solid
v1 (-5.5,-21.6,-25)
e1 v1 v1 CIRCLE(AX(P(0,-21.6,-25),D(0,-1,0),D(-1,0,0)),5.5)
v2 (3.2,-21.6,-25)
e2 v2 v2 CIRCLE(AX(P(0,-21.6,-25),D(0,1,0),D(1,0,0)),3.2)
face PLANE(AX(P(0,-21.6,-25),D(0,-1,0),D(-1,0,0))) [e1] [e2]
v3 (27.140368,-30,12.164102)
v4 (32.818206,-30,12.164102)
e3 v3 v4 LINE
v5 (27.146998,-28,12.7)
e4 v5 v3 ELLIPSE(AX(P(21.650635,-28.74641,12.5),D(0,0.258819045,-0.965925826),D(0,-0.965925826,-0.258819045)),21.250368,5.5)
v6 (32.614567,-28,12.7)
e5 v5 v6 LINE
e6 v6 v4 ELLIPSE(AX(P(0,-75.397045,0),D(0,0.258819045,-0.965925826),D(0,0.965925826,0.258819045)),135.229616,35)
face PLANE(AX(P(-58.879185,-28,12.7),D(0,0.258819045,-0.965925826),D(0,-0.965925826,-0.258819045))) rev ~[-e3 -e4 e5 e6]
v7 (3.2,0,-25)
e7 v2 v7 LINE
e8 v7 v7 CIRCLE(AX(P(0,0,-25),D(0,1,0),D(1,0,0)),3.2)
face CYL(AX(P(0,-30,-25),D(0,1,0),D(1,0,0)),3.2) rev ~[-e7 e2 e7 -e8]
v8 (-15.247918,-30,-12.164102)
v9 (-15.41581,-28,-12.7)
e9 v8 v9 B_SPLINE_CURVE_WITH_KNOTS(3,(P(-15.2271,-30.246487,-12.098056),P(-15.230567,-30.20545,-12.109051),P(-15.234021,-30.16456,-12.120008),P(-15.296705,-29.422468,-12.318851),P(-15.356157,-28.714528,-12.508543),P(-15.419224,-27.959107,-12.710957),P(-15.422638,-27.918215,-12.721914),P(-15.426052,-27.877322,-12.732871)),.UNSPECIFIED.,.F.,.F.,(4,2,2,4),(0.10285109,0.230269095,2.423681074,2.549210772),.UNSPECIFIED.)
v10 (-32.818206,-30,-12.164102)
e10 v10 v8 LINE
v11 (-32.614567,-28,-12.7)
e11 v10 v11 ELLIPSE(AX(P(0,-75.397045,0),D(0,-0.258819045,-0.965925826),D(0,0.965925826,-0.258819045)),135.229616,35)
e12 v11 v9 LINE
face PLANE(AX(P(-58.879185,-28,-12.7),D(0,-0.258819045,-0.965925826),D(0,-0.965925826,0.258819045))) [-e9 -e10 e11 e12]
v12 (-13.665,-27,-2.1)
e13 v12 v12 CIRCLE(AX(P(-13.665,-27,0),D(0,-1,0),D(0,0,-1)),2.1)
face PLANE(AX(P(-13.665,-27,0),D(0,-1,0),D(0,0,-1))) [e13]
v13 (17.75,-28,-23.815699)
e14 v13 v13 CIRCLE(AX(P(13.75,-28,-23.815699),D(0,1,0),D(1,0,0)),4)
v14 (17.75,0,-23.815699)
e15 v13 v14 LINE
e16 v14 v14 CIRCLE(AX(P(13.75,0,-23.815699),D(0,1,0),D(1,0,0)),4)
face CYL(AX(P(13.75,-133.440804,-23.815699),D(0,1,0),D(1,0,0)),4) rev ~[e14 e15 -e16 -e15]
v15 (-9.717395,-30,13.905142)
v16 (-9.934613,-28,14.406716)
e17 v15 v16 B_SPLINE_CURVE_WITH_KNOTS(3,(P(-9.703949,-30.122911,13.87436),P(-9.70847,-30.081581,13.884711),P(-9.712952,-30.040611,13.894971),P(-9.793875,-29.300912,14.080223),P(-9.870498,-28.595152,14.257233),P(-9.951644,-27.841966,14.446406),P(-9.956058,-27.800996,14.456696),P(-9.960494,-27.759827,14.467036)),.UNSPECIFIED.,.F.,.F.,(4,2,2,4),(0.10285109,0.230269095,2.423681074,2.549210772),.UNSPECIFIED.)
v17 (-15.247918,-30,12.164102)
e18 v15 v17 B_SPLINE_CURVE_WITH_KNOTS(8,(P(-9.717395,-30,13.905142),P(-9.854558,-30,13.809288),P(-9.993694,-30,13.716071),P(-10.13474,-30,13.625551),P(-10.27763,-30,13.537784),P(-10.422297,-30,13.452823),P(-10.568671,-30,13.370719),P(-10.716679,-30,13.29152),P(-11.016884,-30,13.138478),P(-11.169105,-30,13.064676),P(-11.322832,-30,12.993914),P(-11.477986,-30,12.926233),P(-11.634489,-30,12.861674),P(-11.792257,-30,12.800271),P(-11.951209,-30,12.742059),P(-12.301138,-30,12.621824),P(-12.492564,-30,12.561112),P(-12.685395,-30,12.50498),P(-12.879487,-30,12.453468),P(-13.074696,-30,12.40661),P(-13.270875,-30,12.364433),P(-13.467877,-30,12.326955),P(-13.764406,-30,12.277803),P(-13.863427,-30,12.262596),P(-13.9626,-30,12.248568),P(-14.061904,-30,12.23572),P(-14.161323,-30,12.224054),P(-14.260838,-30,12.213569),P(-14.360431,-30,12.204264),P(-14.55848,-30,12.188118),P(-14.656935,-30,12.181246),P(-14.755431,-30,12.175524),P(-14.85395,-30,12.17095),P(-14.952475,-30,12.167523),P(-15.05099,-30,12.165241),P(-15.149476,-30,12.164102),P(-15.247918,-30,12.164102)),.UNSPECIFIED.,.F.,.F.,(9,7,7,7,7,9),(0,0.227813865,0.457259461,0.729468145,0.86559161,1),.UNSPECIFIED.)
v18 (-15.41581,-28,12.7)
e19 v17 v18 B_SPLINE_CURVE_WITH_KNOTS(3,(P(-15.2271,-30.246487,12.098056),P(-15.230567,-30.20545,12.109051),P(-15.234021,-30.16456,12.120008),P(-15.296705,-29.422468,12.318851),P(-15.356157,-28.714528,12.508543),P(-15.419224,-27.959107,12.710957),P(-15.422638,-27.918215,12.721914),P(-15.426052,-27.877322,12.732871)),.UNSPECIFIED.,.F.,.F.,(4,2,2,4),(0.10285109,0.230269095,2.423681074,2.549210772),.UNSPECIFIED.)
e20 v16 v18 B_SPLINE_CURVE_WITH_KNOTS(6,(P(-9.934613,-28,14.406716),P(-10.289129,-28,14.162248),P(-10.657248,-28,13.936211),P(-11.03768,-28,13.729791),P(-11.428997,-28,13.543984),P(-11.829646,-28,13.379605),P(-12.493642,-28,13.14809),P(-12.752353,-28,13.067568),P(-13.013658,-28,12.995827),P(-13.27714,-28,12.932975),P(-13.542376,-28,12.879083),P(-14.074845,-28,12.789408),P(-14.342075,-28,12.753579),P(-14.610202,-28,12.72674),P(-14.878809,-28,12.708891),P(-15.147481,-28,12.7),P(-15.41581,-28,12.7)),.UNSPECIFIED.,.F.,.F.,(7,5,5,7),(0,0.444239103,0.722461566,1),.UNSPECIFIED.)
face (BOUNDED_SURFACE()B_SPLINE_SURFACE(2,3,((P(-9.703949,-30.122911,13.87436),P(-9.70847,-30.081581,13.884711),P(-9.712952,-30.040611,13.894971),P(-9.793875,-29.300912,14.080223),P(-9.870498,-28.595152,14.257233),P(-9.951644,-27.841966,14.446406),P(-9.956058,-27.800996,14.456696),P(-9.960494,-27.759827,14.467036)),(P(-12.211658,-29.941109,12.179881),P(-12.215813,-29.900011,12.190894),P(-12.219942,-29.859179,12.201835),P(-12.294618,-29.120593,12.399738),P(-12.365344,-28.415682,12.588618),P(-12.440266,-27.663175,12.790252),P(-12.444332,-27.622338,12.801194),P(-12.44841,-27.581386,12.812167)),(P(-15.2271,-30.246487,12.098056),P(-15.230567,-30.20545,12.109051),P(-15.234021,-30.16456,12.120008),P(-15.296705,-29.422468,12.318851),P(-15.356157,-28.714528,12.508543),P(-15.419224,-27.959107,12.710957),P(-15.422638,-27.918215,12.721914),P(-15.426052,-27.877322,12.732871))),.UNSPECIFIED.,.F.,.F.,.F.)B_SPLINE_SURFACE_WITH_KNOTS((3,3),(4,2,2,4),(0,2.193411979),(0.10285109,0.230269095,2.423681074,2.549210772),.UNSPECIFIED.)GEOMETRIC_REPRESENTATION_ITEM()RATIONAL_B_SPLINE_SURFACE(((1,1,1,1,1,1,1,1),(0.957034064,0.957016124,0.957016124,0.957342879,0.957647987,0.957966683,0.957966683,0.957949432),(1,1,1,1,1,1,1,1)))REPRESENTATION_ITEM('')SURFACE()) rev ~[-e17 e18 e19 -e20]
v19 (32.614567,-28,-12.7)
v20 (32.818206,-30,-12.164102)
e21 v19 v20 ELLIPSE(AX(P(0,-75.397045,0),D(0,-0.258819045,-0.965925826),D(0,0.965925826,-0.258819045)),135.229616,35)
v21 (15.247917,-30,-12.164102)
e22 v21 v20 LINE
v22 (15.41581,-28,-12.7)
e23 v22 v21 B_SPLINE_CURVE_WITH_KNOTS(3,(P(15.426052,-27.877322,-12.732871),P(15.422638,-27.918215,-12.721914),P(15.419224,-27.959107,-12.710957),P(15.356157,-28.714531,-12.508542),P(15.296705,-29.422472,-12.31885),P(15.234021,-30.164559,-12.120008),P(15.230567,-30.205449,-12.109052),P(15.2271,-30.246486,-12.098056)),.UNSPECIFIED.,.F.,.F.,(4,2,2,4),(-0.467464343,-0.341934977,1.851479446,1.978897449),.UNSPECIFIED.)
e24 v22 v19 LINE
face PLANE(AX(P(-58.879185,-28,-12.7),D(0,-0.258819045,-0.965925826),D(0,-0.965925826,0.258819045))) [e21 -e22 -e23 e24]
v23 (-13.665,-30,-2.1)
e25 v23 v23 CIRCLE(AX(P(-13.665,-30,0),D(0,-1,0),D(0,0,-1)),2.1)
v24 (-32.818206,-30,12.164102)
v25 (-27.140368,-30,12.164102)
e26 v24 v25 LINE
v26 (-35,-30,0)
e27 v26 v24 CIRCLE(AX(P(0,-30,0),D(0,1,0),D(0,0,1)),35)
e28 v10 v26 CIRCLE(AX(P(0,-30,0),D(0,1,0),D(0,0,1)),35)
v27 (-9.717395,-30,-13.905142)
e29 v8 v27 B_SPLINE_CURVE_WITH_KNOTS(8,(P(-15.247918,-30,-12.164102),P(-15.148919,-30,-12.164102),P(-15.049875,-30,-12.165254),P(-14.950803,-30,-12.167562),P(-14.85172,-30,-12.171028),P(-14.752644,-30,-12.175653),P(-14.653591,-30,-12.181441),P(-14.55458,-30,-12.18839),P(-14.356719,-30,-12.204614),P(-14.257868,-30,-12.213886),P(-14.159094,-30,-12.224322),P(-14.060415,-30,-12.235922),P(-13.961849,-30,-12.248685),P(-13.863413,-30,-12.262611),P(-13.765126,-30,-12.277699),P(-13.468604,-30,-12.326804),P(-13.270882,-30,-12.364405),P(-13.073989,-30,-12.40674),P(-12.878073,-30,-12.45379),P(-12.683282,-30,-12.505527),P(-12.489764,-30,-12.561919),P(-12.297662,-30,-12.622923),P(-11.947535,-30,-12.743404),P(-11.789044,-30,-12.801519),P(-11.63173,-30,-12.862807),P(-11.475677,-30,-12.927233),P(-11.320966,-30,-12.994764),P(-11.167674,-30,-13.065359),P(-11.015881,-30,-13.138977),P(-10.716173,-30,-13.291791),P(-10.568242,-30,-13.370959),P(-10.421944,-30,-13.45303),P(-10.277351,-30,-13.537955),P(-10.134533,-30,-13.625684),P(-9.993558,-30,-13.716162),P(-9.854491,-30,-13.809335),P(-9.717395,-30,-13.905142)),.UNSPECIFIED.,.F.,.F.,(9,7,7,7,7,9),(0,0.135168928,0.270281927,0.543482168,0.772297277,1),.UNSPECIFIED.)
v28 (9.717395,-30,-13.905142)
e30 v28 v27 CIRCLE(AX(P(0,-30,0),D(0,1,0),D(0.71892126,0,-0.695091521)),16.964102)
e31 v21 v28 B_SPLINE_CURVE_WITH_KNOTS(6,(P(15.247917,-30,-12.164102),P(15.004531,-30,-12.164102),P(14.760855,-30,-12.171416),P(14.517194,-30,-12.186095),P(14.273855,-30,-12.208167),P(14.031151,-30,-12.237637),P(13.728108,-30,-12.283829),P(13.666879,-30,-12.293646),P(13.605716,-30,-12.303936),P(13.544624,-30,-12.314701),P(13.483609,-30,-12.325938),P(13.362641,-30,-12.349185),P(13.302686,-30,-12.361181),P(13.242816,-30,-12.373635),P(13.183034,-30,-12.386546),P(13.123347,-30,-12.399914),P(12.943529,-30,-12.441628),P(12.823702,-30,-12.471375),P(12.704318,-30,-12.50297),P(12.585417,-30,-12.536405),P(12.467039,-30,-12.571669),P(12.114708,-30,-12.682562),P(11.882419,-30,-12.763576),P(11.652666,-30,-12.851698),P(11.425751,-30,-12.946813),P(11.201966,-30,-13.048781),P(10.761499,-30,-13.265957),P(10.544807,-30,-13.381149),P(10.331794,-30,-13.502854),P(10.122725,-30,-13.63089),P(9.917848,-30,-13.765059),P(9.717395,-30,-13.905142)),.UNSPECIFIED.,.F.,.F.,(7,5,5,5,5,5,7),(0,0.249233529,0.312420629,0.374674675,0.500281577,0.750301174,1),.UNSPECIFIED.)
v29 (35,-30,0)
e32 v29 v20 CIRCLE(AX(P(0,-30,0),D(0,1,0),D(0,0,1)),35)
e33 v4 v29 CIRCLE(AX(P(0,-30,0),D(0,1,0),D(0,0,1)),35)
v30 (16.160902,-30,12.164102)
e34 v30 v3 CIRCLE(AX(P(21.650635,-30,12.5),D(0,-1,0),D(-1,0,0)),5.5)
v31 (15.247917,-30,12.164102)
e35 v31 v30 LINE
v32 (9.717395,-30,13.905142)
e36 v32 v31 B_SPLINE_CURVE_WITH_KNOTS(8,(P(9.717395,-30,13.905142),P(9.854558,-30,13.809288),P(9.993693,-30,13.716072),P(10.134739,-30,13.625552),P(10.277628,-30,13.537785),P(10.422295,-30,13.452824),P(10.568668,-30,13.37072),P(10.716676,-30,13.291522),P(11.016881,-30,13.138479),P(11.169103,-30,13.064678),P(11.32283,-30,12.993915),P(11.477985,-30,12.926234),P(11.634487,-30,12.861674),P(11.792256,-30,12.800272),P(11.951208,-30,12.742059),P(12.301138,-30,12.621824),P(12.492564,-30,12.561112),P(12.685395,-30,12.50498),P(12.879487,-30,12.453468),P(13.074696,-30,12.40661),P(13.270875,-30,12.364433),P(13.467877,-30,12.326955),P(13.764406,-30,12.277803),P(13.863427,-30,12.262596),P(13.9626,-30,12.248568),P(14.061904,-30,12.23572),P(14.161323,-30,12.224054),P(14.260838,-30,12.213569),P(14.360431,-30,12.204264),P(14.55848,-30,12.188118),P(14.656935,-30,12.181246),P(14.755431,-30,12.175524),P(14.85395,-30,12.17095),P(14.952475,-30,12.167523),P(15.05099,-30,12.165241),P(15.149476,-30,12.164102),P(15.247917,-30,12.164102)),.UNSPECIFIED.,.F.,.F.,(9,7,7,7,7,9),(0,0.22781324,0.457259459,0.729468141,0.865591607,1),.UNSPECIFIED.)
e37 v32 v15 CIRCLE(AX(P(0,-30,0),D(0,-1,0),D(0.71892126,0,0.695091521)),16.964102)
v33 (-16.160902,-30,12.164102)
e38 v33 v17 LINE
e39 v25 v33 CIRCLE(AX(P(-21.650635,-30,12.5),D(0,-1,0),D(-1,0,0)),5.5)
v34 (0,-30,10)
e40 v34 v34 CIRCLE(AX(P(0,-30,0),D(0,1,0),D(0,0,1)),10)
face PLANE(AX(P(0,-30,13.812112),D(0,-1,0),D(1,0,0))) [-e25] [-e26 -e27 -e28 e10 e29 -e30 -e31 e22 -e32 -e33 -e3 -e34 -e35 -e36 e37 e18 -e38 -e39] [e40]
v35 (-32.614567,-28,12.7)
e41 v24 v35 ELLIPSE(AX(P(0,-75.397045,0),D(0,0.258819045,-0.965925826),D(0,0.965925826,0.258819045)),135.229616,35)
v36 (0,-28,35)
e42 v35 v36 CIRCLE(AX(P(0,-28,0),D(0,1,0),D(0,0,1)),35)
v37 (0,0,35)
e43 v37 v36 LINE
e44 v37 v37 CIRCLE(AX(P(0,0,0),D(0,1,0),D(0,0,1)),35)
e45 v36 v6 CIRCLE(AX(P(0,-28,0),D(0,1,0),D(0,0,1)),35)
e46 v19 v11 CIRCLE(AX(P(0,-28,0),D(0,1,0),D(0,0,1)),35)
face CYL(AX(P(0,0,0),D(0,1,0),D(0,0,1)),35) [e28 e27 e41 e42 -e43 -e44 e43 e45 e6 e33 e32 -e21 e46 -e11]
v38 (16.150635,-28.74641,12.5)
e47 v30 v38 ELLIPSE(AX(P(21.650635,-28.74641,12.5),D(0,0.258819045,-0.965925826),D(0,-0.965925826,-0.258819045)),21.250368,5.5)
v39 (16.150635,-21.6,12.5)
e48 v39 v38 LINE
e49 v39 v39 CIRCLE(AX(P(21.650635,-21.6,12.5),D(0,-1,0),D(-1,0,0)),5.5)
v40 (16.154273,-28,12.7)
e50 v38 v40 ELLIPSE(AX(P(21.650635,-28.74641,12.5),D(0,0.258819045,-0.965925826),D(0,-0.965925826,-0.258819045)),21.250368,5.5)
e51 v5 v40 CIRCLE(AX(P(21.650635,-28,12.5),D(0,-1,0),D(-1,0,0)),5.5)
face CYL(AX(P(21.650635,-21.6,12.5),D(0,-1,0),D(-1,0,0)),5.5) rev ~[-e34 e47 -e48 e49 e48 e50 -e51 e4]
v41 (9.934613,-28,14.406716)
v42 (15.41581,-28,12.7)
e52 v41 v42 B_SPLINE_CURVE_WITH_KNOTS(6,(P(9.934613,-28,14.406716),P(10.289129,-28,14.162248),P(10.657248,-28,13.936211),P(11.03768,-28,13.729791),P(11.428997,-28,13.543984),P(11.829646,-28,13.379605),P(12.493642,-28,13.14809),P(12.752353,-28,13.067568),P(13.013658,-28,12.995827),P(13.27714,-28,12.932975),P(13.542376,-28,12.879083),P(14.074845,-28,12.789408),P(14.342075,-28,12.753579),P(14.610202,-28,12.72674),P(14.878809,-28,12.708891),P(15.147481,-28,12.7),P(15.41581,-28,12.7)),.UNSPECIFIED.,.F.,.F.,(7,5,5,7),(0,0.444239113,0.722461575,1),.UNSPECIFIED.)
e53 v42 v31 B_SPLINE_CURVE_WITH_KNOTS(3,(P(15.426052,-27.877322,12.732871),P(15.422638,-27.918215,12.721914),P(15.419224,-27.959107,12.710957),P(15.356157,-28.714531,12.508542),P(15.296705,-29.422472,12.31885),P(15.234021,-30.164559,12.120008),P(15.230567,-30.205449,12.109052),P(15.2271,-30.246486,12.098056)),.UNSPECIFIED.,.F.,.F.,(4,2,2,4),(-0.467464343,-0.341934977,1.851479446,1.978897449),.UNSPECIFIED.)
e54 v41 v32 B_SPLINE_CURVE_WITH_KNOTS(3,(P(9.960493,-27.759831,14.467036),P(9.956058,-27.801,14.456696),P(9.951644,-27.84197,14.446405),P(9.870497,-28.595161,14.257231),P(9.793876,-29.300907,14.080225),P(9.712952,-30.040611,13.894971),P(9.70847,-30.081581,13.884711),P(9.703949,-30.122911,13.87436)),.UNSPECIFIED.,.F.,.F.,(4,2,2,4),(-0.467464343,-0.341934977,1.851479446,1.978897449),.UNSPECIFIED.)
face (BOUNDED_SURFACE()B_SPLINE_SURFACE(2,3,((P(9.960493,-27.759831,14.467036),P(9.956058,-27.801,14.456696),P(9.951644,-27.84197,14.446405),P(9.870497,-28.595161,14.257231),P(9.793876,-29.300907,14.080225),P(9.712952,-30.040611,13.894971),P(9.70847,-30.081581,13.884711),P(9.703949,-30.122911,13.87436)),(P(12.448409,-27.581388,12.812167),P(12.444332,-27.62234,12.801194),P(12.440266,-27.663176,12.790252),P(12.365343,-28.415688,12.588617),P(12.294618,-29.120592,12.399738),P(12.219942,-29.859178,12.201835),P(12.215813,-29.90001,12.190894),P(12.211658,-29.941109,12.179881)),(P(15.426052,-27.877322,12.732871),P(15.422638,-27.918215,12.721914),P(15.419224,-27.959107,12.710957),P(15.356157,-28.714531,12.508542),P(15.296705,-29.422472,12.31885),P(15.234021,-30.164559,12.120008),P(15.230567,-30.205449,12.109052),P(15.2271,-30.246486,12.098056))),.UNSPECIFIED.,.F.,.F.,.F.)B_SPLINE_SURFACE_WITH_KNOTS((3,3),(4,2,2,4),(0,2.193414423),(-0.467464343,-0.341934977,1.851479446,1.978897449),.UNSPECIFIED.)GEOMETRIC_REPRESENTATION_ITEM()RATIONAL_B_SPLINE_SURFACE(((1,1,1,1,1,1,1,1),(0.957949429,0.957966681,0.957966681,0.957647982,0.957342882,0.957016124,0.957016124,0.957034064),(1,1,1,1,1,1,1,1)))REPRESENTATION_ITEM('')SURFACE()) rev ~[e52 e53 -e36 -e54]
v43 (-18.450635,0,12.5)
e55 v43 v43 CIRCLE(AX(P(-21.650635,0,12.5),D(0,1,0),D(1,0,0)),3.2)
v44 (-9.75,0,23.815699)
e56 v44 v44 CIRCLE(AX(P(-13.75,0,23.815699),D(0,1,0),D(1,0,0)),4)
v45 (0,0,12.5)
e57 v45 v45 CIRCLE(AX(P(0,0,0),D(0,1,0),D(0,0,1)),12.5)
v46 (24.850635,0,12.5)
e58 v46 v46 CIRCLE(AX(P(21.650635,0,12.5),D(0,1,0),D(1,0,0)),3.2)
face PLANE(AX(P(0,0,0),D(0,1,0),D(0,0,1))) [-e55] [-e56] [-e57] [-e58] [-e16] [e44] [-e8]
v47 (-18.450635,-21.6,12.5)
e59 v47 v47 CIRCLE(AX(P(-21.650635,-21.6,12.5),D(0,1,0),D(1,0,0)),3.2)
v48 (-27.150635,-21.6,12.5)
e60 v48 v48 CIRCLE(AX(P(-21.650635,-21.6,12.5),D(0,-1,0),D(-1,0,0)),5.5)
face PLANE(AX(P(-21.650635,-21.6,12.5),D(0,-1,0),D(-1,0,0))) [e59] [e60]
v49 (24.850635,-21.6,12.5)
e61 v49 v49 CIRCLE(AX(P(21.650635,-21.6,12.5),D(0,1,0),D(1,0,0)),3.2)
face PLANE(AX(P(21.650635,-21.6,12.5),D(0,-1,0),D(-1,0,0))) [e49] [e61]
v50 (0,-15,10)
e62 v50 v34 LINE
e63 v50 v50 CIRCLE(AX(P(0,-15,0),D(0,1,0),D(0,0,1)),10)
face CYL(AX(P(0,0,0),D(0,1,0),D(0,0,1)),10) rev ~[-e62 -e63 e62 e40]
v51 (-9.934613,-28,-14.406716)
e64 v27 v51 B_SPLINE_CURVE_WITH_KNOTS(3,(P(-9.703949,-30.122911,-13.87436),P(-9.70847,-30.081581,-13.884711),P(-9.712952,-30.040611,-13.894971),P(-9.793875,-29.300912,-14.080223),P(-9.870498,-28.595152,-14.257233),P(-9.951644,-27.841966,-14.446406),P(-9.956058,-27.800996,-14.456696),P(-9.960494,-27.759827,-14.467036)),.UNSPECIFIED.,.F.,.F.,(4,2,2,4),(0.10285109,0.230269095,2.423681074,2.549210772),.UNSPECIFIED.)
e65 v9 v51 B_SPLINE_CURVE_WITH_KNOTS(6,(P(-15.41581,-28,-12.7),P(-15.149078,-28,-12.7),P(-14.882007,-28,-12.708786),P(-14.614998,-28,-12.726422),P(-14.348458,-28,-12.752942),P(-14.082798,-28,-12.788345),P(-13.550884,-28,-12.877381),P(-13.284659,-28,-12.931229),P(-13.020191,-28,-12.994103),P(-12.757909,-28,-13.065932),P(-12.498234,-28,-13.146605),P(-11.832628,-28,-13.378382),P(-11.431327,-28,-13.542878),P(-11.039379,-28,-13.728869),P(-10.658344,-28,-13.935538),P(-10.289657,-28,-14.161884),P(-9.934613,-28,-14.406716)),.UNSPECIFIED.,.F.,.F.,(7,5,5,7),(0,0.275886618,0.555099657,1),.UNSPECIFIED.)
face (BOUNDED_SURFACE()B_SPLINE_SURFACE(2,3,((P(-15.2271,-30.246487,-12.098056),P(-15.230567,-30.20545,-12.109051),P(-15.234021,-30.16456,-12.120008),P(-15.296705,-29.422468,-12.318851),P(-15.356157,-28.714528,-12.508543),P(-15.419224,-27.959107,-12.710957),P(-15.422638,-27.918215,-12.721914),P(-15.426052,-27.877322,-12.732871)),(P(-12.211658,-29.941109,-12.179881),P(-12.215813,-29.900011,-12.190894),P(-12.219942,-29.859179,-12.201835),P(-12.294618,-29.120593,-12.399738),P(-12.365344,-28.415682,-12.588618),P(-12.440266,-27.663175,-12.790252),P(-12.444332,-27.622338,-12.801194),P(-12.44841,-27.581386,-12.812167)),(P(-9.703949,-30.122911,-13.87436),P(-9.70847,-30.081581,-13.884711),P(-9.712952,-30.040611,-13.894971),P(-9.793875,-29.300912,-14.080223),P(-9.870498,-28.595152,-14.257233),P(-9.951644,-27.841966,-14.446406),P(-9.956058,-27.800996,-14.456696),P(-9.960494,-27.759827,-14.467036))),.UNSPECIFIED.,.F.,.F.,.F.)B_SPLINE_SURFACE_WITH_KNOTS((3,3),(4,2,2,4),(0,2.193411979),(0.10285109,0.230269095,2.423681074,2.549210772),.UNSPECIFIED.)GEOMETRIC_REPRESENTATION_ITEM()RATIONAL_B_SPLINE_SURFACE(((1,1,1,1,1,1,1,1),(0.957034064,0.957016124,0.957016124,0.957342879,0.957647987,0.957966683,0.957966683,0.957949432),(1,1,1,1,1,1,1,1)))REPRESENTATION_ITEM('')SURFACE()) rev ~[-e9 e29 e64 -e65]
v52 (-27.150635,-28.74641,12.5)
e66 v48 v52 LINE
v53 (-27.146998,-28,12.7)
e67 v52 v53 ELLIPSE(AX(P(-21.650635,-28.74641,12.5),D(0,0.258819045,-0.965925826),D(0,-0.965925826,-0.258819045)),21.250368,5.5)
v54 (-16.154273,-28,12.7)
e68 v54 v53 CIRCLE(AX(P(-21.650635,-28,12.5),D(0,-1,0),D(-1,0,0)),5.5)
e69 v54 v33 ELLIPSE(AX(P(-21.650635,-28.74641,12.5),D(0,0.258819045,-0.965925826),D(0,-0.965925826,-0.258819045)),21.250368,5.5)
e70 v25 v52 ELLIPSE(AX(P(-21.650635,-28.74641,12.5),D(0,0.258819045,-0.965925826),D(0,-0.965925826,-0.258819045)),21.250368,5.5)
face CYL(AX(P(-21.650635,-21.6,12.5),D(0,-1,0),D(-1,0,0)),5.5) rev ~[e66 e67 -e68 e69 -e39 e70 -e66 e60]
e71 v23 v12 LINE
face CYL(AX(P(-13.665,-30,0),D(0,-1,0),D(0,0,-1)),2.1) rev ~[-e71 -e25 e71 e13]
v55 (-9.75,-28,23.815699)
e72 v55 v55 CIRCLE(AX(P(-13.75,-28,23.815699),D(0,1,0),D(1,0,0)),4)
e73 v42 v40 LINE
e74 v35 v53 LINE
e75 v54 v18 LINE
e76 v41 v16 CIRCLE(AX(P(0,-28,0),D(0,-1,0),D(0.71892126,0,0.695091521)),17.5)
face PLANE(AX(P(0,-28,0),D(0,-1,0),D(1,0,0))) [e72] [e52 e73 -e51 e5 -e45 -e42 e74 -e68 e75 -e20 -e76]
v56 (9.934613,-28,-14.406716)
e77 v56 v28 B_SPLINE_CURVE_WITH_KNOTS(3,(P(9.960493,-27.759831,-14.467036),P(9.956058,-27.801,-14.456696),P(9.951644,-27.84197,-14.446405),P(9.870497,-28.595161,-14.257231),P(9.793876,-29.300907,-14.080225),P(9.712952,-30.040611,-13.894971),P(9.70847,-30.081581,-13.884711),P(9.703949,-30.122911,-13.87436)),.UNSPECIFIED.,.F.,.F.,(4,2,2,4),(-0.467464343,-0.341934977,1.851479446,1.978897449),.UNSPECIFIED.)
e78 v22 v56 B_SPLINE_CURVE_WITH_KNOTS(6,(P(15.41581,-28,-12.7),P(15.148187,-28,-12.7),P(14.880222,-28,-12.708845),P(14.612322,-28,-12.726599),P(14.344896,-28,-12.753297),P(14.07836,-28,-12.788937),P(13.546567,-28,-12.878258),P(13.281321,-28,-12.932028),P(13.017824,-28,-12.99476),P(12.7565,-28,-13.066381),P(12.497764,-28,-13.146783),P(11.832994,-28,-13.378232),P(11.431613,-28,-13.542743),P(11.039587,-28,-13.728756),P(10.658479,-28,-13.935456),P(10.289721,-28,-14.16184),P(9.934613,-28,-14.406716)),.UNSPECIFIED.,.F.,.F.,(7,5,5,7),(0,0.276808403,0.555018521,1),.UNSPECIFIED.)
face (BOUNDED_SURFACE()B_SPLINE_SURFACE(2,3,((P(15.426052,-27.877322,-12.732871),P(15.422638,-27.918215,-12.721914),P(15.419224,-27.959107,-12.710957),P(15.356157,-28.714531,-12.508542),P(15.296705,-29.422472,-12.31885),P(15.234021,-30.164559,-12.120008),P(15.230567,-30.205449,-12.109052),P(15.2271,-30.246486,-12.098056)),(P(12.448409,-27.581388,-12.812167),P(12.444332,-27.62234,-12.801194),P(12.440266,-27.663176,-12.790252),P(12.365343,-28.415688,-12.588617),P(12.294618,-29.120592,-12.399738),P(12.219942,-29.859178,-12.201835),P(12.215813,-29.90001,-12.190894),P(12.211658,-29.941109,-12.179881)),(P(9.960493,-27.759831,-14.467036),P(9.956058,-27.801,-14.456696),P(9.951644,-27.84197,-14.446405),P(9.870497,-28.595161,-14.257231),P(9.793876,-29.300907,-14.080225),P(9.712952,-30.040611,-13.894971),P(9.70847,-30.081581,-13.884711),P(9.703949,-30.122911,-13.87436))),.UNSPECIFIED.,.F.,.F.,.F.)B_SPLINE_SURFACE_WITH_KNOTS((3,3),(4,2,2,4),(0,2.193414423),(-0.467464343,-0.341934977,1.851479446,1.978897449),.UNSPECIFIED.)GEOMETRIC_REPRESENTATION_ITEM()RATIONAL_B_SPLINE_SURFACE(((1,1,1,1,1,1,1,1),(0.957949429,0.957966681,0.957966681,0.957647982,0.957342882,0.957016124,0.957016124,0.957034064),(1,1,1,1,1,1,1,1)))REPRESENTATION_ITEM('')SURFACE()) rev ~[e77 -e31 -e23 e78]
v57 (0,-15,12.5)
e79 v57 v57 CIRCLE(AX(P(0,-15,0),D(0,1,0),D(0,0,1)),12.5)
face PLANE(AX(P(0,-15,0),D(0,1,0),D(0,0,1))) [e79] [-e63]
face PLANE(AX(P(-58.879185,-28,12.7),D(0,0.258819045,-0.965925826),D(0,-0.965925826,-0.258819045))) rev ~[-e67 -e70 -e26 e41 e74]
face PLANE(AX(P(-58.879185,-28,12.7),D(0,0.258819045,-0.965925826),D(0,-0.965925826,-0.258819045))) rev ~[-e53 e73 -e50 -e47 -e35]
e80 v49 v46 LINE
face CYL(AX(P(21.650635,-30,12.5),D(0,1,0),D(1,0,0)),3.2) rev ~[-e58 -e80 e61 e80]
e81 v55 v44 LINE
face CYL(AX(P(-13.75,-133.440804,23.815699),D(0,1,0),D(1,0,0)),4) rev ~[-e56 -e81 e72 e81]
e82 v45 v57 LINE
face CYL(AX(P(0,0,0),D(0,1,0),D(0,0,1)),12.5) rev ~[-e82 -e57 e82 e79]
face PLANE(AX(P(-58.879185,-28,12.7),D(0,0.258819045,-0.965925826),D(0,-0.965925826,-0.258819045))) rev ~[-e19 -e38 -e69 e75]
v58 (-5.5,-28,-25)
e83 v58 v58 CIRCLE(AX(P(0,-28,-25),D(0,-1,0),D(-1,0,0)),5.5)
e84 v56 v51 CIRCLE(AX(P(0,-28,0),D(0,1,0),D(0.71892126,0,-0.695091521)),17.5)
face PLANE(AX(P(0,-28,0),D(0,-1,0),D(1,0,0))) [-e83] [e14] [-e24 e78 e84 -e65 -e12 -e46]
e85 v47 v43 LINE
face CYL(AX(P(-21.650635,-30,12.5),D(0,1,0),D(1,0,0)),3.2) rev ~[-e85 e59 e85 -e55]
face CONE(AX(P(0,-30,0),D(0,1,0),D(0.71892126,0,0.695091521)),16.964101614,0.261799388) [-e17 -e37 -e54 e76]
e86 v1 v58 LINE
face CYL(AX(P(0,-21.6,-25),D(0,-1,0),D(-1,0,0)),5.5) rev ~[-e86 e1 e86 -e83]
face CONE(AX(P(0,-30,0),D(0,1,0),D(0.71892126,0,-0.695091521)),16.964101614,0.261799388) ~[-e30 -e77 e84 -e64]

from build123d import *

# Parameters (mm, degrees)
SKETCH1_R                                           = 35
SKETCH1_R_2                                         = 10
BOSS_EXTRUDE1_DEPTH                                 = 30
SKETCH4_R                                           = 12.5
CUT_EXTRUDE2_DEPTH                                  = 15
CBORE_FOR_M6_HEX_SOCKET_HEAD_CAP_SCREW1_D           = 6.4
CBORE_FOR_M6_HEX_SOCKET_HEAD_CAP_SCREW1_CBORE_D     = 11
CBORE_FOR_M6_HEX_SOCKET_HEAD_CAP_SCREW1_CBORE_DEPTH = 8.4
F_8_0MM_DOWEL_HOLE1_D                               = 8
SKETCH14_OUTSIDE_W                                  = 92.688
SKETCH14_OUTSIDE_H                                  = 92.688
SKETCH14_OUTSIDE_W_2                                = 70
SKETCH14_OUTSIDE_H_2                                = 25.4
CUT_EXTRUDE3_DEPTH                                  = 2
SKETCH18_R                                          = 2.1
CUT_EXTRUDE5_DEPTH                                  = 3
CUT_EXTRUDE6_DEPTH                                  = 58.879184825
CUT_EXTRUDE6_DEPTH_BACK                             = 58.879184825
BOSS_EXTRUDE2_DEPTH                                 = 2
DRAFT1_ANGLE                                        = 15
FILLET1_R                                           = 10


with BuildPart() as part:
    # Sketch1 → Boss-Extrude1 (new body)
    with BuildSketch(Plane(origin=(0, 0, 0), x_dir=(1, 0, 0), z_dir=(0, 1, 0))):
        with Locations(Location((0, 0, 0), (0, 0, 270))):
            Circle(SKETCH1_R)
        with Locations(Location((0, 0, 0), (0, 0, 270))):
            Circle(SKETCH1_R_2, mode=Mode.SUBTRACT)
    extrude(amount=-BOSS_EXTRUDE1_DEPTH)

    # Sketch4 → Cut-Extrude2 (cut)
    with BuildSketch(Plane(origin=(0, 0, 0), x_dir=(1, 0, 0), z_dir=(0, 1, 0))):
        with Locations(Location((0, 0, 0), (0, 0, 270))):
            Circle(SKETCH4_R)
    extrude(amount=-CUT_EXTRUDE2_DEPTH, mode=Mode.SUBTRACT)

    # CBORE for M6 Hex Socket Head Cap Screw1 (through all)
    with Locations(Plane(origin=(0, -30, 0), x_dir=(-1, 0, 0), z_dir=(0, -1, 0))):
        with Locations((0, 25), (21.650635095, -12.5), (-21.650635095, -12.5)):
            CounterBoreHole(CBORE_FOR_M6_HEX_SOCKET_HEAD_CAP_SCREW1_D / 2, CBORE_FOR_M6_HEX_SOCKET_HEAD_CAP_SCREW1_CBORE_D / 2, CBORE_FOR_M6_HEX_SOCKET_HEAD_CAP_SCREW1_CBORE_DEPTH)

    # Ø8.0mm Dowel Hole1 (through all)
    with Locations(Plane(origin=(0, -30, 0), x_dir=(-1, 0, 0), z_dir=(0, -1, 0))):
        with Locations((13.75, -23.815698604), (-13.75, 23.815698604)):
            Hole(F_8_0MM_DOWEL_HOLE1_D / 2)

    # Sketch14 outside → Cut-Extrude3 (cut)
    with BuildSketch(Plane.XZ.offset(30)):
        Rectangle(SKETCH14_OUTSIDE_W, SKETCH14_OUTSIDE_H)
        Rectangle(SKETCH14_OUTSIDE_W_2, SKETCH14_OUTSIDE_H_2, mode=Mode.SUBTRACT)
    extrude(amount=-CUT_EXTRUDE3_DEPTH, mode=Mode.SUBTRACT)

    # Sketch18 → Cut-Extrude5 (cut)
    with BuildSketch(Plane.XZ.offset(30)):
        with Locations(Location((-13.665, 0, 0), (0, 0, 270))):
            Circle(SKETCH18_R)
    extrude(amount=-CUT_EXTRUDE5_DEPTH, mode=Mode.SUBTRACT)

    # Sketch19 → Cut-Extrude6 (cut, two sides: drawn at the far end of the back side and taken through both)
    with BuildSketch(Plane(origin=(0, 0, 0), x_dir=(0, 0, -1), z_dir=(1, 0, 0)).offset(-CUT_EXTRUDE6_DEPTH_BACK)):
        Polygon((-12.7, -28), (-12.164101615, -30), (-12.7, -30), align=None)
        Polygon((12.7, -28), (12.164101615, -30), (12.7, -30), align=None)
    extrude(amount=CUT_EXTRUDE6_DEPTH + CUT_EXTRUDE6_DEPTH_BACK, mode=Mode.SUBTRACT)

    # Sketch20 → Boss-Extrude2 (add)
    with BuildSketch(Plane.XZ.offset(30)):
        with BuildLine():
            Line((-12.581122044, 12.164101615), (12.581122044, 12.164101615))
            ThreePointArc((12.581122044, 12.164101615), (0, 17.5), (-12.581122044, 12.164101615))
        make_face()
        with BuildLine():
            Line((-12.581122044, -12.164101615), (12.581122044, -12.164101615))
            ThreePointArc((12.581122044, -12.164101615), (0, -17.5), (-12.581122044, -12.164101615))
        make_face()
    extrude(amount=-BOSS_EXTRUDE2_DEPTH)

    # Draft1
    draft1_faces = [part.faces().sort_by_distance(p)[0] for p in [
        (0, -29, 17.5),
        (0, -29, -17.5),
    ]]
    draft(draft1_faces, Plane(origin=(0, -28, 0), x_dir=(0, 0, -1), z_dir=(0, -1, 0)), DRAFT1_ANGLE)

    # Fillet1
    fillet1_edges = [part.edges().sort_by_distance(p)[0] for p in [
        (11.932625996, -29.000048438, 12.432037829),
        (-11.932625996, -29.000048438, 12.432037829),
        (-11.932625996, -29.000048438, -12.432037829),
        (11.932625996, -29.000048438, -12.432037829),
    ]]
    fillet(fillet1_edges, radius=FILLET1_R)


solid = part.part
